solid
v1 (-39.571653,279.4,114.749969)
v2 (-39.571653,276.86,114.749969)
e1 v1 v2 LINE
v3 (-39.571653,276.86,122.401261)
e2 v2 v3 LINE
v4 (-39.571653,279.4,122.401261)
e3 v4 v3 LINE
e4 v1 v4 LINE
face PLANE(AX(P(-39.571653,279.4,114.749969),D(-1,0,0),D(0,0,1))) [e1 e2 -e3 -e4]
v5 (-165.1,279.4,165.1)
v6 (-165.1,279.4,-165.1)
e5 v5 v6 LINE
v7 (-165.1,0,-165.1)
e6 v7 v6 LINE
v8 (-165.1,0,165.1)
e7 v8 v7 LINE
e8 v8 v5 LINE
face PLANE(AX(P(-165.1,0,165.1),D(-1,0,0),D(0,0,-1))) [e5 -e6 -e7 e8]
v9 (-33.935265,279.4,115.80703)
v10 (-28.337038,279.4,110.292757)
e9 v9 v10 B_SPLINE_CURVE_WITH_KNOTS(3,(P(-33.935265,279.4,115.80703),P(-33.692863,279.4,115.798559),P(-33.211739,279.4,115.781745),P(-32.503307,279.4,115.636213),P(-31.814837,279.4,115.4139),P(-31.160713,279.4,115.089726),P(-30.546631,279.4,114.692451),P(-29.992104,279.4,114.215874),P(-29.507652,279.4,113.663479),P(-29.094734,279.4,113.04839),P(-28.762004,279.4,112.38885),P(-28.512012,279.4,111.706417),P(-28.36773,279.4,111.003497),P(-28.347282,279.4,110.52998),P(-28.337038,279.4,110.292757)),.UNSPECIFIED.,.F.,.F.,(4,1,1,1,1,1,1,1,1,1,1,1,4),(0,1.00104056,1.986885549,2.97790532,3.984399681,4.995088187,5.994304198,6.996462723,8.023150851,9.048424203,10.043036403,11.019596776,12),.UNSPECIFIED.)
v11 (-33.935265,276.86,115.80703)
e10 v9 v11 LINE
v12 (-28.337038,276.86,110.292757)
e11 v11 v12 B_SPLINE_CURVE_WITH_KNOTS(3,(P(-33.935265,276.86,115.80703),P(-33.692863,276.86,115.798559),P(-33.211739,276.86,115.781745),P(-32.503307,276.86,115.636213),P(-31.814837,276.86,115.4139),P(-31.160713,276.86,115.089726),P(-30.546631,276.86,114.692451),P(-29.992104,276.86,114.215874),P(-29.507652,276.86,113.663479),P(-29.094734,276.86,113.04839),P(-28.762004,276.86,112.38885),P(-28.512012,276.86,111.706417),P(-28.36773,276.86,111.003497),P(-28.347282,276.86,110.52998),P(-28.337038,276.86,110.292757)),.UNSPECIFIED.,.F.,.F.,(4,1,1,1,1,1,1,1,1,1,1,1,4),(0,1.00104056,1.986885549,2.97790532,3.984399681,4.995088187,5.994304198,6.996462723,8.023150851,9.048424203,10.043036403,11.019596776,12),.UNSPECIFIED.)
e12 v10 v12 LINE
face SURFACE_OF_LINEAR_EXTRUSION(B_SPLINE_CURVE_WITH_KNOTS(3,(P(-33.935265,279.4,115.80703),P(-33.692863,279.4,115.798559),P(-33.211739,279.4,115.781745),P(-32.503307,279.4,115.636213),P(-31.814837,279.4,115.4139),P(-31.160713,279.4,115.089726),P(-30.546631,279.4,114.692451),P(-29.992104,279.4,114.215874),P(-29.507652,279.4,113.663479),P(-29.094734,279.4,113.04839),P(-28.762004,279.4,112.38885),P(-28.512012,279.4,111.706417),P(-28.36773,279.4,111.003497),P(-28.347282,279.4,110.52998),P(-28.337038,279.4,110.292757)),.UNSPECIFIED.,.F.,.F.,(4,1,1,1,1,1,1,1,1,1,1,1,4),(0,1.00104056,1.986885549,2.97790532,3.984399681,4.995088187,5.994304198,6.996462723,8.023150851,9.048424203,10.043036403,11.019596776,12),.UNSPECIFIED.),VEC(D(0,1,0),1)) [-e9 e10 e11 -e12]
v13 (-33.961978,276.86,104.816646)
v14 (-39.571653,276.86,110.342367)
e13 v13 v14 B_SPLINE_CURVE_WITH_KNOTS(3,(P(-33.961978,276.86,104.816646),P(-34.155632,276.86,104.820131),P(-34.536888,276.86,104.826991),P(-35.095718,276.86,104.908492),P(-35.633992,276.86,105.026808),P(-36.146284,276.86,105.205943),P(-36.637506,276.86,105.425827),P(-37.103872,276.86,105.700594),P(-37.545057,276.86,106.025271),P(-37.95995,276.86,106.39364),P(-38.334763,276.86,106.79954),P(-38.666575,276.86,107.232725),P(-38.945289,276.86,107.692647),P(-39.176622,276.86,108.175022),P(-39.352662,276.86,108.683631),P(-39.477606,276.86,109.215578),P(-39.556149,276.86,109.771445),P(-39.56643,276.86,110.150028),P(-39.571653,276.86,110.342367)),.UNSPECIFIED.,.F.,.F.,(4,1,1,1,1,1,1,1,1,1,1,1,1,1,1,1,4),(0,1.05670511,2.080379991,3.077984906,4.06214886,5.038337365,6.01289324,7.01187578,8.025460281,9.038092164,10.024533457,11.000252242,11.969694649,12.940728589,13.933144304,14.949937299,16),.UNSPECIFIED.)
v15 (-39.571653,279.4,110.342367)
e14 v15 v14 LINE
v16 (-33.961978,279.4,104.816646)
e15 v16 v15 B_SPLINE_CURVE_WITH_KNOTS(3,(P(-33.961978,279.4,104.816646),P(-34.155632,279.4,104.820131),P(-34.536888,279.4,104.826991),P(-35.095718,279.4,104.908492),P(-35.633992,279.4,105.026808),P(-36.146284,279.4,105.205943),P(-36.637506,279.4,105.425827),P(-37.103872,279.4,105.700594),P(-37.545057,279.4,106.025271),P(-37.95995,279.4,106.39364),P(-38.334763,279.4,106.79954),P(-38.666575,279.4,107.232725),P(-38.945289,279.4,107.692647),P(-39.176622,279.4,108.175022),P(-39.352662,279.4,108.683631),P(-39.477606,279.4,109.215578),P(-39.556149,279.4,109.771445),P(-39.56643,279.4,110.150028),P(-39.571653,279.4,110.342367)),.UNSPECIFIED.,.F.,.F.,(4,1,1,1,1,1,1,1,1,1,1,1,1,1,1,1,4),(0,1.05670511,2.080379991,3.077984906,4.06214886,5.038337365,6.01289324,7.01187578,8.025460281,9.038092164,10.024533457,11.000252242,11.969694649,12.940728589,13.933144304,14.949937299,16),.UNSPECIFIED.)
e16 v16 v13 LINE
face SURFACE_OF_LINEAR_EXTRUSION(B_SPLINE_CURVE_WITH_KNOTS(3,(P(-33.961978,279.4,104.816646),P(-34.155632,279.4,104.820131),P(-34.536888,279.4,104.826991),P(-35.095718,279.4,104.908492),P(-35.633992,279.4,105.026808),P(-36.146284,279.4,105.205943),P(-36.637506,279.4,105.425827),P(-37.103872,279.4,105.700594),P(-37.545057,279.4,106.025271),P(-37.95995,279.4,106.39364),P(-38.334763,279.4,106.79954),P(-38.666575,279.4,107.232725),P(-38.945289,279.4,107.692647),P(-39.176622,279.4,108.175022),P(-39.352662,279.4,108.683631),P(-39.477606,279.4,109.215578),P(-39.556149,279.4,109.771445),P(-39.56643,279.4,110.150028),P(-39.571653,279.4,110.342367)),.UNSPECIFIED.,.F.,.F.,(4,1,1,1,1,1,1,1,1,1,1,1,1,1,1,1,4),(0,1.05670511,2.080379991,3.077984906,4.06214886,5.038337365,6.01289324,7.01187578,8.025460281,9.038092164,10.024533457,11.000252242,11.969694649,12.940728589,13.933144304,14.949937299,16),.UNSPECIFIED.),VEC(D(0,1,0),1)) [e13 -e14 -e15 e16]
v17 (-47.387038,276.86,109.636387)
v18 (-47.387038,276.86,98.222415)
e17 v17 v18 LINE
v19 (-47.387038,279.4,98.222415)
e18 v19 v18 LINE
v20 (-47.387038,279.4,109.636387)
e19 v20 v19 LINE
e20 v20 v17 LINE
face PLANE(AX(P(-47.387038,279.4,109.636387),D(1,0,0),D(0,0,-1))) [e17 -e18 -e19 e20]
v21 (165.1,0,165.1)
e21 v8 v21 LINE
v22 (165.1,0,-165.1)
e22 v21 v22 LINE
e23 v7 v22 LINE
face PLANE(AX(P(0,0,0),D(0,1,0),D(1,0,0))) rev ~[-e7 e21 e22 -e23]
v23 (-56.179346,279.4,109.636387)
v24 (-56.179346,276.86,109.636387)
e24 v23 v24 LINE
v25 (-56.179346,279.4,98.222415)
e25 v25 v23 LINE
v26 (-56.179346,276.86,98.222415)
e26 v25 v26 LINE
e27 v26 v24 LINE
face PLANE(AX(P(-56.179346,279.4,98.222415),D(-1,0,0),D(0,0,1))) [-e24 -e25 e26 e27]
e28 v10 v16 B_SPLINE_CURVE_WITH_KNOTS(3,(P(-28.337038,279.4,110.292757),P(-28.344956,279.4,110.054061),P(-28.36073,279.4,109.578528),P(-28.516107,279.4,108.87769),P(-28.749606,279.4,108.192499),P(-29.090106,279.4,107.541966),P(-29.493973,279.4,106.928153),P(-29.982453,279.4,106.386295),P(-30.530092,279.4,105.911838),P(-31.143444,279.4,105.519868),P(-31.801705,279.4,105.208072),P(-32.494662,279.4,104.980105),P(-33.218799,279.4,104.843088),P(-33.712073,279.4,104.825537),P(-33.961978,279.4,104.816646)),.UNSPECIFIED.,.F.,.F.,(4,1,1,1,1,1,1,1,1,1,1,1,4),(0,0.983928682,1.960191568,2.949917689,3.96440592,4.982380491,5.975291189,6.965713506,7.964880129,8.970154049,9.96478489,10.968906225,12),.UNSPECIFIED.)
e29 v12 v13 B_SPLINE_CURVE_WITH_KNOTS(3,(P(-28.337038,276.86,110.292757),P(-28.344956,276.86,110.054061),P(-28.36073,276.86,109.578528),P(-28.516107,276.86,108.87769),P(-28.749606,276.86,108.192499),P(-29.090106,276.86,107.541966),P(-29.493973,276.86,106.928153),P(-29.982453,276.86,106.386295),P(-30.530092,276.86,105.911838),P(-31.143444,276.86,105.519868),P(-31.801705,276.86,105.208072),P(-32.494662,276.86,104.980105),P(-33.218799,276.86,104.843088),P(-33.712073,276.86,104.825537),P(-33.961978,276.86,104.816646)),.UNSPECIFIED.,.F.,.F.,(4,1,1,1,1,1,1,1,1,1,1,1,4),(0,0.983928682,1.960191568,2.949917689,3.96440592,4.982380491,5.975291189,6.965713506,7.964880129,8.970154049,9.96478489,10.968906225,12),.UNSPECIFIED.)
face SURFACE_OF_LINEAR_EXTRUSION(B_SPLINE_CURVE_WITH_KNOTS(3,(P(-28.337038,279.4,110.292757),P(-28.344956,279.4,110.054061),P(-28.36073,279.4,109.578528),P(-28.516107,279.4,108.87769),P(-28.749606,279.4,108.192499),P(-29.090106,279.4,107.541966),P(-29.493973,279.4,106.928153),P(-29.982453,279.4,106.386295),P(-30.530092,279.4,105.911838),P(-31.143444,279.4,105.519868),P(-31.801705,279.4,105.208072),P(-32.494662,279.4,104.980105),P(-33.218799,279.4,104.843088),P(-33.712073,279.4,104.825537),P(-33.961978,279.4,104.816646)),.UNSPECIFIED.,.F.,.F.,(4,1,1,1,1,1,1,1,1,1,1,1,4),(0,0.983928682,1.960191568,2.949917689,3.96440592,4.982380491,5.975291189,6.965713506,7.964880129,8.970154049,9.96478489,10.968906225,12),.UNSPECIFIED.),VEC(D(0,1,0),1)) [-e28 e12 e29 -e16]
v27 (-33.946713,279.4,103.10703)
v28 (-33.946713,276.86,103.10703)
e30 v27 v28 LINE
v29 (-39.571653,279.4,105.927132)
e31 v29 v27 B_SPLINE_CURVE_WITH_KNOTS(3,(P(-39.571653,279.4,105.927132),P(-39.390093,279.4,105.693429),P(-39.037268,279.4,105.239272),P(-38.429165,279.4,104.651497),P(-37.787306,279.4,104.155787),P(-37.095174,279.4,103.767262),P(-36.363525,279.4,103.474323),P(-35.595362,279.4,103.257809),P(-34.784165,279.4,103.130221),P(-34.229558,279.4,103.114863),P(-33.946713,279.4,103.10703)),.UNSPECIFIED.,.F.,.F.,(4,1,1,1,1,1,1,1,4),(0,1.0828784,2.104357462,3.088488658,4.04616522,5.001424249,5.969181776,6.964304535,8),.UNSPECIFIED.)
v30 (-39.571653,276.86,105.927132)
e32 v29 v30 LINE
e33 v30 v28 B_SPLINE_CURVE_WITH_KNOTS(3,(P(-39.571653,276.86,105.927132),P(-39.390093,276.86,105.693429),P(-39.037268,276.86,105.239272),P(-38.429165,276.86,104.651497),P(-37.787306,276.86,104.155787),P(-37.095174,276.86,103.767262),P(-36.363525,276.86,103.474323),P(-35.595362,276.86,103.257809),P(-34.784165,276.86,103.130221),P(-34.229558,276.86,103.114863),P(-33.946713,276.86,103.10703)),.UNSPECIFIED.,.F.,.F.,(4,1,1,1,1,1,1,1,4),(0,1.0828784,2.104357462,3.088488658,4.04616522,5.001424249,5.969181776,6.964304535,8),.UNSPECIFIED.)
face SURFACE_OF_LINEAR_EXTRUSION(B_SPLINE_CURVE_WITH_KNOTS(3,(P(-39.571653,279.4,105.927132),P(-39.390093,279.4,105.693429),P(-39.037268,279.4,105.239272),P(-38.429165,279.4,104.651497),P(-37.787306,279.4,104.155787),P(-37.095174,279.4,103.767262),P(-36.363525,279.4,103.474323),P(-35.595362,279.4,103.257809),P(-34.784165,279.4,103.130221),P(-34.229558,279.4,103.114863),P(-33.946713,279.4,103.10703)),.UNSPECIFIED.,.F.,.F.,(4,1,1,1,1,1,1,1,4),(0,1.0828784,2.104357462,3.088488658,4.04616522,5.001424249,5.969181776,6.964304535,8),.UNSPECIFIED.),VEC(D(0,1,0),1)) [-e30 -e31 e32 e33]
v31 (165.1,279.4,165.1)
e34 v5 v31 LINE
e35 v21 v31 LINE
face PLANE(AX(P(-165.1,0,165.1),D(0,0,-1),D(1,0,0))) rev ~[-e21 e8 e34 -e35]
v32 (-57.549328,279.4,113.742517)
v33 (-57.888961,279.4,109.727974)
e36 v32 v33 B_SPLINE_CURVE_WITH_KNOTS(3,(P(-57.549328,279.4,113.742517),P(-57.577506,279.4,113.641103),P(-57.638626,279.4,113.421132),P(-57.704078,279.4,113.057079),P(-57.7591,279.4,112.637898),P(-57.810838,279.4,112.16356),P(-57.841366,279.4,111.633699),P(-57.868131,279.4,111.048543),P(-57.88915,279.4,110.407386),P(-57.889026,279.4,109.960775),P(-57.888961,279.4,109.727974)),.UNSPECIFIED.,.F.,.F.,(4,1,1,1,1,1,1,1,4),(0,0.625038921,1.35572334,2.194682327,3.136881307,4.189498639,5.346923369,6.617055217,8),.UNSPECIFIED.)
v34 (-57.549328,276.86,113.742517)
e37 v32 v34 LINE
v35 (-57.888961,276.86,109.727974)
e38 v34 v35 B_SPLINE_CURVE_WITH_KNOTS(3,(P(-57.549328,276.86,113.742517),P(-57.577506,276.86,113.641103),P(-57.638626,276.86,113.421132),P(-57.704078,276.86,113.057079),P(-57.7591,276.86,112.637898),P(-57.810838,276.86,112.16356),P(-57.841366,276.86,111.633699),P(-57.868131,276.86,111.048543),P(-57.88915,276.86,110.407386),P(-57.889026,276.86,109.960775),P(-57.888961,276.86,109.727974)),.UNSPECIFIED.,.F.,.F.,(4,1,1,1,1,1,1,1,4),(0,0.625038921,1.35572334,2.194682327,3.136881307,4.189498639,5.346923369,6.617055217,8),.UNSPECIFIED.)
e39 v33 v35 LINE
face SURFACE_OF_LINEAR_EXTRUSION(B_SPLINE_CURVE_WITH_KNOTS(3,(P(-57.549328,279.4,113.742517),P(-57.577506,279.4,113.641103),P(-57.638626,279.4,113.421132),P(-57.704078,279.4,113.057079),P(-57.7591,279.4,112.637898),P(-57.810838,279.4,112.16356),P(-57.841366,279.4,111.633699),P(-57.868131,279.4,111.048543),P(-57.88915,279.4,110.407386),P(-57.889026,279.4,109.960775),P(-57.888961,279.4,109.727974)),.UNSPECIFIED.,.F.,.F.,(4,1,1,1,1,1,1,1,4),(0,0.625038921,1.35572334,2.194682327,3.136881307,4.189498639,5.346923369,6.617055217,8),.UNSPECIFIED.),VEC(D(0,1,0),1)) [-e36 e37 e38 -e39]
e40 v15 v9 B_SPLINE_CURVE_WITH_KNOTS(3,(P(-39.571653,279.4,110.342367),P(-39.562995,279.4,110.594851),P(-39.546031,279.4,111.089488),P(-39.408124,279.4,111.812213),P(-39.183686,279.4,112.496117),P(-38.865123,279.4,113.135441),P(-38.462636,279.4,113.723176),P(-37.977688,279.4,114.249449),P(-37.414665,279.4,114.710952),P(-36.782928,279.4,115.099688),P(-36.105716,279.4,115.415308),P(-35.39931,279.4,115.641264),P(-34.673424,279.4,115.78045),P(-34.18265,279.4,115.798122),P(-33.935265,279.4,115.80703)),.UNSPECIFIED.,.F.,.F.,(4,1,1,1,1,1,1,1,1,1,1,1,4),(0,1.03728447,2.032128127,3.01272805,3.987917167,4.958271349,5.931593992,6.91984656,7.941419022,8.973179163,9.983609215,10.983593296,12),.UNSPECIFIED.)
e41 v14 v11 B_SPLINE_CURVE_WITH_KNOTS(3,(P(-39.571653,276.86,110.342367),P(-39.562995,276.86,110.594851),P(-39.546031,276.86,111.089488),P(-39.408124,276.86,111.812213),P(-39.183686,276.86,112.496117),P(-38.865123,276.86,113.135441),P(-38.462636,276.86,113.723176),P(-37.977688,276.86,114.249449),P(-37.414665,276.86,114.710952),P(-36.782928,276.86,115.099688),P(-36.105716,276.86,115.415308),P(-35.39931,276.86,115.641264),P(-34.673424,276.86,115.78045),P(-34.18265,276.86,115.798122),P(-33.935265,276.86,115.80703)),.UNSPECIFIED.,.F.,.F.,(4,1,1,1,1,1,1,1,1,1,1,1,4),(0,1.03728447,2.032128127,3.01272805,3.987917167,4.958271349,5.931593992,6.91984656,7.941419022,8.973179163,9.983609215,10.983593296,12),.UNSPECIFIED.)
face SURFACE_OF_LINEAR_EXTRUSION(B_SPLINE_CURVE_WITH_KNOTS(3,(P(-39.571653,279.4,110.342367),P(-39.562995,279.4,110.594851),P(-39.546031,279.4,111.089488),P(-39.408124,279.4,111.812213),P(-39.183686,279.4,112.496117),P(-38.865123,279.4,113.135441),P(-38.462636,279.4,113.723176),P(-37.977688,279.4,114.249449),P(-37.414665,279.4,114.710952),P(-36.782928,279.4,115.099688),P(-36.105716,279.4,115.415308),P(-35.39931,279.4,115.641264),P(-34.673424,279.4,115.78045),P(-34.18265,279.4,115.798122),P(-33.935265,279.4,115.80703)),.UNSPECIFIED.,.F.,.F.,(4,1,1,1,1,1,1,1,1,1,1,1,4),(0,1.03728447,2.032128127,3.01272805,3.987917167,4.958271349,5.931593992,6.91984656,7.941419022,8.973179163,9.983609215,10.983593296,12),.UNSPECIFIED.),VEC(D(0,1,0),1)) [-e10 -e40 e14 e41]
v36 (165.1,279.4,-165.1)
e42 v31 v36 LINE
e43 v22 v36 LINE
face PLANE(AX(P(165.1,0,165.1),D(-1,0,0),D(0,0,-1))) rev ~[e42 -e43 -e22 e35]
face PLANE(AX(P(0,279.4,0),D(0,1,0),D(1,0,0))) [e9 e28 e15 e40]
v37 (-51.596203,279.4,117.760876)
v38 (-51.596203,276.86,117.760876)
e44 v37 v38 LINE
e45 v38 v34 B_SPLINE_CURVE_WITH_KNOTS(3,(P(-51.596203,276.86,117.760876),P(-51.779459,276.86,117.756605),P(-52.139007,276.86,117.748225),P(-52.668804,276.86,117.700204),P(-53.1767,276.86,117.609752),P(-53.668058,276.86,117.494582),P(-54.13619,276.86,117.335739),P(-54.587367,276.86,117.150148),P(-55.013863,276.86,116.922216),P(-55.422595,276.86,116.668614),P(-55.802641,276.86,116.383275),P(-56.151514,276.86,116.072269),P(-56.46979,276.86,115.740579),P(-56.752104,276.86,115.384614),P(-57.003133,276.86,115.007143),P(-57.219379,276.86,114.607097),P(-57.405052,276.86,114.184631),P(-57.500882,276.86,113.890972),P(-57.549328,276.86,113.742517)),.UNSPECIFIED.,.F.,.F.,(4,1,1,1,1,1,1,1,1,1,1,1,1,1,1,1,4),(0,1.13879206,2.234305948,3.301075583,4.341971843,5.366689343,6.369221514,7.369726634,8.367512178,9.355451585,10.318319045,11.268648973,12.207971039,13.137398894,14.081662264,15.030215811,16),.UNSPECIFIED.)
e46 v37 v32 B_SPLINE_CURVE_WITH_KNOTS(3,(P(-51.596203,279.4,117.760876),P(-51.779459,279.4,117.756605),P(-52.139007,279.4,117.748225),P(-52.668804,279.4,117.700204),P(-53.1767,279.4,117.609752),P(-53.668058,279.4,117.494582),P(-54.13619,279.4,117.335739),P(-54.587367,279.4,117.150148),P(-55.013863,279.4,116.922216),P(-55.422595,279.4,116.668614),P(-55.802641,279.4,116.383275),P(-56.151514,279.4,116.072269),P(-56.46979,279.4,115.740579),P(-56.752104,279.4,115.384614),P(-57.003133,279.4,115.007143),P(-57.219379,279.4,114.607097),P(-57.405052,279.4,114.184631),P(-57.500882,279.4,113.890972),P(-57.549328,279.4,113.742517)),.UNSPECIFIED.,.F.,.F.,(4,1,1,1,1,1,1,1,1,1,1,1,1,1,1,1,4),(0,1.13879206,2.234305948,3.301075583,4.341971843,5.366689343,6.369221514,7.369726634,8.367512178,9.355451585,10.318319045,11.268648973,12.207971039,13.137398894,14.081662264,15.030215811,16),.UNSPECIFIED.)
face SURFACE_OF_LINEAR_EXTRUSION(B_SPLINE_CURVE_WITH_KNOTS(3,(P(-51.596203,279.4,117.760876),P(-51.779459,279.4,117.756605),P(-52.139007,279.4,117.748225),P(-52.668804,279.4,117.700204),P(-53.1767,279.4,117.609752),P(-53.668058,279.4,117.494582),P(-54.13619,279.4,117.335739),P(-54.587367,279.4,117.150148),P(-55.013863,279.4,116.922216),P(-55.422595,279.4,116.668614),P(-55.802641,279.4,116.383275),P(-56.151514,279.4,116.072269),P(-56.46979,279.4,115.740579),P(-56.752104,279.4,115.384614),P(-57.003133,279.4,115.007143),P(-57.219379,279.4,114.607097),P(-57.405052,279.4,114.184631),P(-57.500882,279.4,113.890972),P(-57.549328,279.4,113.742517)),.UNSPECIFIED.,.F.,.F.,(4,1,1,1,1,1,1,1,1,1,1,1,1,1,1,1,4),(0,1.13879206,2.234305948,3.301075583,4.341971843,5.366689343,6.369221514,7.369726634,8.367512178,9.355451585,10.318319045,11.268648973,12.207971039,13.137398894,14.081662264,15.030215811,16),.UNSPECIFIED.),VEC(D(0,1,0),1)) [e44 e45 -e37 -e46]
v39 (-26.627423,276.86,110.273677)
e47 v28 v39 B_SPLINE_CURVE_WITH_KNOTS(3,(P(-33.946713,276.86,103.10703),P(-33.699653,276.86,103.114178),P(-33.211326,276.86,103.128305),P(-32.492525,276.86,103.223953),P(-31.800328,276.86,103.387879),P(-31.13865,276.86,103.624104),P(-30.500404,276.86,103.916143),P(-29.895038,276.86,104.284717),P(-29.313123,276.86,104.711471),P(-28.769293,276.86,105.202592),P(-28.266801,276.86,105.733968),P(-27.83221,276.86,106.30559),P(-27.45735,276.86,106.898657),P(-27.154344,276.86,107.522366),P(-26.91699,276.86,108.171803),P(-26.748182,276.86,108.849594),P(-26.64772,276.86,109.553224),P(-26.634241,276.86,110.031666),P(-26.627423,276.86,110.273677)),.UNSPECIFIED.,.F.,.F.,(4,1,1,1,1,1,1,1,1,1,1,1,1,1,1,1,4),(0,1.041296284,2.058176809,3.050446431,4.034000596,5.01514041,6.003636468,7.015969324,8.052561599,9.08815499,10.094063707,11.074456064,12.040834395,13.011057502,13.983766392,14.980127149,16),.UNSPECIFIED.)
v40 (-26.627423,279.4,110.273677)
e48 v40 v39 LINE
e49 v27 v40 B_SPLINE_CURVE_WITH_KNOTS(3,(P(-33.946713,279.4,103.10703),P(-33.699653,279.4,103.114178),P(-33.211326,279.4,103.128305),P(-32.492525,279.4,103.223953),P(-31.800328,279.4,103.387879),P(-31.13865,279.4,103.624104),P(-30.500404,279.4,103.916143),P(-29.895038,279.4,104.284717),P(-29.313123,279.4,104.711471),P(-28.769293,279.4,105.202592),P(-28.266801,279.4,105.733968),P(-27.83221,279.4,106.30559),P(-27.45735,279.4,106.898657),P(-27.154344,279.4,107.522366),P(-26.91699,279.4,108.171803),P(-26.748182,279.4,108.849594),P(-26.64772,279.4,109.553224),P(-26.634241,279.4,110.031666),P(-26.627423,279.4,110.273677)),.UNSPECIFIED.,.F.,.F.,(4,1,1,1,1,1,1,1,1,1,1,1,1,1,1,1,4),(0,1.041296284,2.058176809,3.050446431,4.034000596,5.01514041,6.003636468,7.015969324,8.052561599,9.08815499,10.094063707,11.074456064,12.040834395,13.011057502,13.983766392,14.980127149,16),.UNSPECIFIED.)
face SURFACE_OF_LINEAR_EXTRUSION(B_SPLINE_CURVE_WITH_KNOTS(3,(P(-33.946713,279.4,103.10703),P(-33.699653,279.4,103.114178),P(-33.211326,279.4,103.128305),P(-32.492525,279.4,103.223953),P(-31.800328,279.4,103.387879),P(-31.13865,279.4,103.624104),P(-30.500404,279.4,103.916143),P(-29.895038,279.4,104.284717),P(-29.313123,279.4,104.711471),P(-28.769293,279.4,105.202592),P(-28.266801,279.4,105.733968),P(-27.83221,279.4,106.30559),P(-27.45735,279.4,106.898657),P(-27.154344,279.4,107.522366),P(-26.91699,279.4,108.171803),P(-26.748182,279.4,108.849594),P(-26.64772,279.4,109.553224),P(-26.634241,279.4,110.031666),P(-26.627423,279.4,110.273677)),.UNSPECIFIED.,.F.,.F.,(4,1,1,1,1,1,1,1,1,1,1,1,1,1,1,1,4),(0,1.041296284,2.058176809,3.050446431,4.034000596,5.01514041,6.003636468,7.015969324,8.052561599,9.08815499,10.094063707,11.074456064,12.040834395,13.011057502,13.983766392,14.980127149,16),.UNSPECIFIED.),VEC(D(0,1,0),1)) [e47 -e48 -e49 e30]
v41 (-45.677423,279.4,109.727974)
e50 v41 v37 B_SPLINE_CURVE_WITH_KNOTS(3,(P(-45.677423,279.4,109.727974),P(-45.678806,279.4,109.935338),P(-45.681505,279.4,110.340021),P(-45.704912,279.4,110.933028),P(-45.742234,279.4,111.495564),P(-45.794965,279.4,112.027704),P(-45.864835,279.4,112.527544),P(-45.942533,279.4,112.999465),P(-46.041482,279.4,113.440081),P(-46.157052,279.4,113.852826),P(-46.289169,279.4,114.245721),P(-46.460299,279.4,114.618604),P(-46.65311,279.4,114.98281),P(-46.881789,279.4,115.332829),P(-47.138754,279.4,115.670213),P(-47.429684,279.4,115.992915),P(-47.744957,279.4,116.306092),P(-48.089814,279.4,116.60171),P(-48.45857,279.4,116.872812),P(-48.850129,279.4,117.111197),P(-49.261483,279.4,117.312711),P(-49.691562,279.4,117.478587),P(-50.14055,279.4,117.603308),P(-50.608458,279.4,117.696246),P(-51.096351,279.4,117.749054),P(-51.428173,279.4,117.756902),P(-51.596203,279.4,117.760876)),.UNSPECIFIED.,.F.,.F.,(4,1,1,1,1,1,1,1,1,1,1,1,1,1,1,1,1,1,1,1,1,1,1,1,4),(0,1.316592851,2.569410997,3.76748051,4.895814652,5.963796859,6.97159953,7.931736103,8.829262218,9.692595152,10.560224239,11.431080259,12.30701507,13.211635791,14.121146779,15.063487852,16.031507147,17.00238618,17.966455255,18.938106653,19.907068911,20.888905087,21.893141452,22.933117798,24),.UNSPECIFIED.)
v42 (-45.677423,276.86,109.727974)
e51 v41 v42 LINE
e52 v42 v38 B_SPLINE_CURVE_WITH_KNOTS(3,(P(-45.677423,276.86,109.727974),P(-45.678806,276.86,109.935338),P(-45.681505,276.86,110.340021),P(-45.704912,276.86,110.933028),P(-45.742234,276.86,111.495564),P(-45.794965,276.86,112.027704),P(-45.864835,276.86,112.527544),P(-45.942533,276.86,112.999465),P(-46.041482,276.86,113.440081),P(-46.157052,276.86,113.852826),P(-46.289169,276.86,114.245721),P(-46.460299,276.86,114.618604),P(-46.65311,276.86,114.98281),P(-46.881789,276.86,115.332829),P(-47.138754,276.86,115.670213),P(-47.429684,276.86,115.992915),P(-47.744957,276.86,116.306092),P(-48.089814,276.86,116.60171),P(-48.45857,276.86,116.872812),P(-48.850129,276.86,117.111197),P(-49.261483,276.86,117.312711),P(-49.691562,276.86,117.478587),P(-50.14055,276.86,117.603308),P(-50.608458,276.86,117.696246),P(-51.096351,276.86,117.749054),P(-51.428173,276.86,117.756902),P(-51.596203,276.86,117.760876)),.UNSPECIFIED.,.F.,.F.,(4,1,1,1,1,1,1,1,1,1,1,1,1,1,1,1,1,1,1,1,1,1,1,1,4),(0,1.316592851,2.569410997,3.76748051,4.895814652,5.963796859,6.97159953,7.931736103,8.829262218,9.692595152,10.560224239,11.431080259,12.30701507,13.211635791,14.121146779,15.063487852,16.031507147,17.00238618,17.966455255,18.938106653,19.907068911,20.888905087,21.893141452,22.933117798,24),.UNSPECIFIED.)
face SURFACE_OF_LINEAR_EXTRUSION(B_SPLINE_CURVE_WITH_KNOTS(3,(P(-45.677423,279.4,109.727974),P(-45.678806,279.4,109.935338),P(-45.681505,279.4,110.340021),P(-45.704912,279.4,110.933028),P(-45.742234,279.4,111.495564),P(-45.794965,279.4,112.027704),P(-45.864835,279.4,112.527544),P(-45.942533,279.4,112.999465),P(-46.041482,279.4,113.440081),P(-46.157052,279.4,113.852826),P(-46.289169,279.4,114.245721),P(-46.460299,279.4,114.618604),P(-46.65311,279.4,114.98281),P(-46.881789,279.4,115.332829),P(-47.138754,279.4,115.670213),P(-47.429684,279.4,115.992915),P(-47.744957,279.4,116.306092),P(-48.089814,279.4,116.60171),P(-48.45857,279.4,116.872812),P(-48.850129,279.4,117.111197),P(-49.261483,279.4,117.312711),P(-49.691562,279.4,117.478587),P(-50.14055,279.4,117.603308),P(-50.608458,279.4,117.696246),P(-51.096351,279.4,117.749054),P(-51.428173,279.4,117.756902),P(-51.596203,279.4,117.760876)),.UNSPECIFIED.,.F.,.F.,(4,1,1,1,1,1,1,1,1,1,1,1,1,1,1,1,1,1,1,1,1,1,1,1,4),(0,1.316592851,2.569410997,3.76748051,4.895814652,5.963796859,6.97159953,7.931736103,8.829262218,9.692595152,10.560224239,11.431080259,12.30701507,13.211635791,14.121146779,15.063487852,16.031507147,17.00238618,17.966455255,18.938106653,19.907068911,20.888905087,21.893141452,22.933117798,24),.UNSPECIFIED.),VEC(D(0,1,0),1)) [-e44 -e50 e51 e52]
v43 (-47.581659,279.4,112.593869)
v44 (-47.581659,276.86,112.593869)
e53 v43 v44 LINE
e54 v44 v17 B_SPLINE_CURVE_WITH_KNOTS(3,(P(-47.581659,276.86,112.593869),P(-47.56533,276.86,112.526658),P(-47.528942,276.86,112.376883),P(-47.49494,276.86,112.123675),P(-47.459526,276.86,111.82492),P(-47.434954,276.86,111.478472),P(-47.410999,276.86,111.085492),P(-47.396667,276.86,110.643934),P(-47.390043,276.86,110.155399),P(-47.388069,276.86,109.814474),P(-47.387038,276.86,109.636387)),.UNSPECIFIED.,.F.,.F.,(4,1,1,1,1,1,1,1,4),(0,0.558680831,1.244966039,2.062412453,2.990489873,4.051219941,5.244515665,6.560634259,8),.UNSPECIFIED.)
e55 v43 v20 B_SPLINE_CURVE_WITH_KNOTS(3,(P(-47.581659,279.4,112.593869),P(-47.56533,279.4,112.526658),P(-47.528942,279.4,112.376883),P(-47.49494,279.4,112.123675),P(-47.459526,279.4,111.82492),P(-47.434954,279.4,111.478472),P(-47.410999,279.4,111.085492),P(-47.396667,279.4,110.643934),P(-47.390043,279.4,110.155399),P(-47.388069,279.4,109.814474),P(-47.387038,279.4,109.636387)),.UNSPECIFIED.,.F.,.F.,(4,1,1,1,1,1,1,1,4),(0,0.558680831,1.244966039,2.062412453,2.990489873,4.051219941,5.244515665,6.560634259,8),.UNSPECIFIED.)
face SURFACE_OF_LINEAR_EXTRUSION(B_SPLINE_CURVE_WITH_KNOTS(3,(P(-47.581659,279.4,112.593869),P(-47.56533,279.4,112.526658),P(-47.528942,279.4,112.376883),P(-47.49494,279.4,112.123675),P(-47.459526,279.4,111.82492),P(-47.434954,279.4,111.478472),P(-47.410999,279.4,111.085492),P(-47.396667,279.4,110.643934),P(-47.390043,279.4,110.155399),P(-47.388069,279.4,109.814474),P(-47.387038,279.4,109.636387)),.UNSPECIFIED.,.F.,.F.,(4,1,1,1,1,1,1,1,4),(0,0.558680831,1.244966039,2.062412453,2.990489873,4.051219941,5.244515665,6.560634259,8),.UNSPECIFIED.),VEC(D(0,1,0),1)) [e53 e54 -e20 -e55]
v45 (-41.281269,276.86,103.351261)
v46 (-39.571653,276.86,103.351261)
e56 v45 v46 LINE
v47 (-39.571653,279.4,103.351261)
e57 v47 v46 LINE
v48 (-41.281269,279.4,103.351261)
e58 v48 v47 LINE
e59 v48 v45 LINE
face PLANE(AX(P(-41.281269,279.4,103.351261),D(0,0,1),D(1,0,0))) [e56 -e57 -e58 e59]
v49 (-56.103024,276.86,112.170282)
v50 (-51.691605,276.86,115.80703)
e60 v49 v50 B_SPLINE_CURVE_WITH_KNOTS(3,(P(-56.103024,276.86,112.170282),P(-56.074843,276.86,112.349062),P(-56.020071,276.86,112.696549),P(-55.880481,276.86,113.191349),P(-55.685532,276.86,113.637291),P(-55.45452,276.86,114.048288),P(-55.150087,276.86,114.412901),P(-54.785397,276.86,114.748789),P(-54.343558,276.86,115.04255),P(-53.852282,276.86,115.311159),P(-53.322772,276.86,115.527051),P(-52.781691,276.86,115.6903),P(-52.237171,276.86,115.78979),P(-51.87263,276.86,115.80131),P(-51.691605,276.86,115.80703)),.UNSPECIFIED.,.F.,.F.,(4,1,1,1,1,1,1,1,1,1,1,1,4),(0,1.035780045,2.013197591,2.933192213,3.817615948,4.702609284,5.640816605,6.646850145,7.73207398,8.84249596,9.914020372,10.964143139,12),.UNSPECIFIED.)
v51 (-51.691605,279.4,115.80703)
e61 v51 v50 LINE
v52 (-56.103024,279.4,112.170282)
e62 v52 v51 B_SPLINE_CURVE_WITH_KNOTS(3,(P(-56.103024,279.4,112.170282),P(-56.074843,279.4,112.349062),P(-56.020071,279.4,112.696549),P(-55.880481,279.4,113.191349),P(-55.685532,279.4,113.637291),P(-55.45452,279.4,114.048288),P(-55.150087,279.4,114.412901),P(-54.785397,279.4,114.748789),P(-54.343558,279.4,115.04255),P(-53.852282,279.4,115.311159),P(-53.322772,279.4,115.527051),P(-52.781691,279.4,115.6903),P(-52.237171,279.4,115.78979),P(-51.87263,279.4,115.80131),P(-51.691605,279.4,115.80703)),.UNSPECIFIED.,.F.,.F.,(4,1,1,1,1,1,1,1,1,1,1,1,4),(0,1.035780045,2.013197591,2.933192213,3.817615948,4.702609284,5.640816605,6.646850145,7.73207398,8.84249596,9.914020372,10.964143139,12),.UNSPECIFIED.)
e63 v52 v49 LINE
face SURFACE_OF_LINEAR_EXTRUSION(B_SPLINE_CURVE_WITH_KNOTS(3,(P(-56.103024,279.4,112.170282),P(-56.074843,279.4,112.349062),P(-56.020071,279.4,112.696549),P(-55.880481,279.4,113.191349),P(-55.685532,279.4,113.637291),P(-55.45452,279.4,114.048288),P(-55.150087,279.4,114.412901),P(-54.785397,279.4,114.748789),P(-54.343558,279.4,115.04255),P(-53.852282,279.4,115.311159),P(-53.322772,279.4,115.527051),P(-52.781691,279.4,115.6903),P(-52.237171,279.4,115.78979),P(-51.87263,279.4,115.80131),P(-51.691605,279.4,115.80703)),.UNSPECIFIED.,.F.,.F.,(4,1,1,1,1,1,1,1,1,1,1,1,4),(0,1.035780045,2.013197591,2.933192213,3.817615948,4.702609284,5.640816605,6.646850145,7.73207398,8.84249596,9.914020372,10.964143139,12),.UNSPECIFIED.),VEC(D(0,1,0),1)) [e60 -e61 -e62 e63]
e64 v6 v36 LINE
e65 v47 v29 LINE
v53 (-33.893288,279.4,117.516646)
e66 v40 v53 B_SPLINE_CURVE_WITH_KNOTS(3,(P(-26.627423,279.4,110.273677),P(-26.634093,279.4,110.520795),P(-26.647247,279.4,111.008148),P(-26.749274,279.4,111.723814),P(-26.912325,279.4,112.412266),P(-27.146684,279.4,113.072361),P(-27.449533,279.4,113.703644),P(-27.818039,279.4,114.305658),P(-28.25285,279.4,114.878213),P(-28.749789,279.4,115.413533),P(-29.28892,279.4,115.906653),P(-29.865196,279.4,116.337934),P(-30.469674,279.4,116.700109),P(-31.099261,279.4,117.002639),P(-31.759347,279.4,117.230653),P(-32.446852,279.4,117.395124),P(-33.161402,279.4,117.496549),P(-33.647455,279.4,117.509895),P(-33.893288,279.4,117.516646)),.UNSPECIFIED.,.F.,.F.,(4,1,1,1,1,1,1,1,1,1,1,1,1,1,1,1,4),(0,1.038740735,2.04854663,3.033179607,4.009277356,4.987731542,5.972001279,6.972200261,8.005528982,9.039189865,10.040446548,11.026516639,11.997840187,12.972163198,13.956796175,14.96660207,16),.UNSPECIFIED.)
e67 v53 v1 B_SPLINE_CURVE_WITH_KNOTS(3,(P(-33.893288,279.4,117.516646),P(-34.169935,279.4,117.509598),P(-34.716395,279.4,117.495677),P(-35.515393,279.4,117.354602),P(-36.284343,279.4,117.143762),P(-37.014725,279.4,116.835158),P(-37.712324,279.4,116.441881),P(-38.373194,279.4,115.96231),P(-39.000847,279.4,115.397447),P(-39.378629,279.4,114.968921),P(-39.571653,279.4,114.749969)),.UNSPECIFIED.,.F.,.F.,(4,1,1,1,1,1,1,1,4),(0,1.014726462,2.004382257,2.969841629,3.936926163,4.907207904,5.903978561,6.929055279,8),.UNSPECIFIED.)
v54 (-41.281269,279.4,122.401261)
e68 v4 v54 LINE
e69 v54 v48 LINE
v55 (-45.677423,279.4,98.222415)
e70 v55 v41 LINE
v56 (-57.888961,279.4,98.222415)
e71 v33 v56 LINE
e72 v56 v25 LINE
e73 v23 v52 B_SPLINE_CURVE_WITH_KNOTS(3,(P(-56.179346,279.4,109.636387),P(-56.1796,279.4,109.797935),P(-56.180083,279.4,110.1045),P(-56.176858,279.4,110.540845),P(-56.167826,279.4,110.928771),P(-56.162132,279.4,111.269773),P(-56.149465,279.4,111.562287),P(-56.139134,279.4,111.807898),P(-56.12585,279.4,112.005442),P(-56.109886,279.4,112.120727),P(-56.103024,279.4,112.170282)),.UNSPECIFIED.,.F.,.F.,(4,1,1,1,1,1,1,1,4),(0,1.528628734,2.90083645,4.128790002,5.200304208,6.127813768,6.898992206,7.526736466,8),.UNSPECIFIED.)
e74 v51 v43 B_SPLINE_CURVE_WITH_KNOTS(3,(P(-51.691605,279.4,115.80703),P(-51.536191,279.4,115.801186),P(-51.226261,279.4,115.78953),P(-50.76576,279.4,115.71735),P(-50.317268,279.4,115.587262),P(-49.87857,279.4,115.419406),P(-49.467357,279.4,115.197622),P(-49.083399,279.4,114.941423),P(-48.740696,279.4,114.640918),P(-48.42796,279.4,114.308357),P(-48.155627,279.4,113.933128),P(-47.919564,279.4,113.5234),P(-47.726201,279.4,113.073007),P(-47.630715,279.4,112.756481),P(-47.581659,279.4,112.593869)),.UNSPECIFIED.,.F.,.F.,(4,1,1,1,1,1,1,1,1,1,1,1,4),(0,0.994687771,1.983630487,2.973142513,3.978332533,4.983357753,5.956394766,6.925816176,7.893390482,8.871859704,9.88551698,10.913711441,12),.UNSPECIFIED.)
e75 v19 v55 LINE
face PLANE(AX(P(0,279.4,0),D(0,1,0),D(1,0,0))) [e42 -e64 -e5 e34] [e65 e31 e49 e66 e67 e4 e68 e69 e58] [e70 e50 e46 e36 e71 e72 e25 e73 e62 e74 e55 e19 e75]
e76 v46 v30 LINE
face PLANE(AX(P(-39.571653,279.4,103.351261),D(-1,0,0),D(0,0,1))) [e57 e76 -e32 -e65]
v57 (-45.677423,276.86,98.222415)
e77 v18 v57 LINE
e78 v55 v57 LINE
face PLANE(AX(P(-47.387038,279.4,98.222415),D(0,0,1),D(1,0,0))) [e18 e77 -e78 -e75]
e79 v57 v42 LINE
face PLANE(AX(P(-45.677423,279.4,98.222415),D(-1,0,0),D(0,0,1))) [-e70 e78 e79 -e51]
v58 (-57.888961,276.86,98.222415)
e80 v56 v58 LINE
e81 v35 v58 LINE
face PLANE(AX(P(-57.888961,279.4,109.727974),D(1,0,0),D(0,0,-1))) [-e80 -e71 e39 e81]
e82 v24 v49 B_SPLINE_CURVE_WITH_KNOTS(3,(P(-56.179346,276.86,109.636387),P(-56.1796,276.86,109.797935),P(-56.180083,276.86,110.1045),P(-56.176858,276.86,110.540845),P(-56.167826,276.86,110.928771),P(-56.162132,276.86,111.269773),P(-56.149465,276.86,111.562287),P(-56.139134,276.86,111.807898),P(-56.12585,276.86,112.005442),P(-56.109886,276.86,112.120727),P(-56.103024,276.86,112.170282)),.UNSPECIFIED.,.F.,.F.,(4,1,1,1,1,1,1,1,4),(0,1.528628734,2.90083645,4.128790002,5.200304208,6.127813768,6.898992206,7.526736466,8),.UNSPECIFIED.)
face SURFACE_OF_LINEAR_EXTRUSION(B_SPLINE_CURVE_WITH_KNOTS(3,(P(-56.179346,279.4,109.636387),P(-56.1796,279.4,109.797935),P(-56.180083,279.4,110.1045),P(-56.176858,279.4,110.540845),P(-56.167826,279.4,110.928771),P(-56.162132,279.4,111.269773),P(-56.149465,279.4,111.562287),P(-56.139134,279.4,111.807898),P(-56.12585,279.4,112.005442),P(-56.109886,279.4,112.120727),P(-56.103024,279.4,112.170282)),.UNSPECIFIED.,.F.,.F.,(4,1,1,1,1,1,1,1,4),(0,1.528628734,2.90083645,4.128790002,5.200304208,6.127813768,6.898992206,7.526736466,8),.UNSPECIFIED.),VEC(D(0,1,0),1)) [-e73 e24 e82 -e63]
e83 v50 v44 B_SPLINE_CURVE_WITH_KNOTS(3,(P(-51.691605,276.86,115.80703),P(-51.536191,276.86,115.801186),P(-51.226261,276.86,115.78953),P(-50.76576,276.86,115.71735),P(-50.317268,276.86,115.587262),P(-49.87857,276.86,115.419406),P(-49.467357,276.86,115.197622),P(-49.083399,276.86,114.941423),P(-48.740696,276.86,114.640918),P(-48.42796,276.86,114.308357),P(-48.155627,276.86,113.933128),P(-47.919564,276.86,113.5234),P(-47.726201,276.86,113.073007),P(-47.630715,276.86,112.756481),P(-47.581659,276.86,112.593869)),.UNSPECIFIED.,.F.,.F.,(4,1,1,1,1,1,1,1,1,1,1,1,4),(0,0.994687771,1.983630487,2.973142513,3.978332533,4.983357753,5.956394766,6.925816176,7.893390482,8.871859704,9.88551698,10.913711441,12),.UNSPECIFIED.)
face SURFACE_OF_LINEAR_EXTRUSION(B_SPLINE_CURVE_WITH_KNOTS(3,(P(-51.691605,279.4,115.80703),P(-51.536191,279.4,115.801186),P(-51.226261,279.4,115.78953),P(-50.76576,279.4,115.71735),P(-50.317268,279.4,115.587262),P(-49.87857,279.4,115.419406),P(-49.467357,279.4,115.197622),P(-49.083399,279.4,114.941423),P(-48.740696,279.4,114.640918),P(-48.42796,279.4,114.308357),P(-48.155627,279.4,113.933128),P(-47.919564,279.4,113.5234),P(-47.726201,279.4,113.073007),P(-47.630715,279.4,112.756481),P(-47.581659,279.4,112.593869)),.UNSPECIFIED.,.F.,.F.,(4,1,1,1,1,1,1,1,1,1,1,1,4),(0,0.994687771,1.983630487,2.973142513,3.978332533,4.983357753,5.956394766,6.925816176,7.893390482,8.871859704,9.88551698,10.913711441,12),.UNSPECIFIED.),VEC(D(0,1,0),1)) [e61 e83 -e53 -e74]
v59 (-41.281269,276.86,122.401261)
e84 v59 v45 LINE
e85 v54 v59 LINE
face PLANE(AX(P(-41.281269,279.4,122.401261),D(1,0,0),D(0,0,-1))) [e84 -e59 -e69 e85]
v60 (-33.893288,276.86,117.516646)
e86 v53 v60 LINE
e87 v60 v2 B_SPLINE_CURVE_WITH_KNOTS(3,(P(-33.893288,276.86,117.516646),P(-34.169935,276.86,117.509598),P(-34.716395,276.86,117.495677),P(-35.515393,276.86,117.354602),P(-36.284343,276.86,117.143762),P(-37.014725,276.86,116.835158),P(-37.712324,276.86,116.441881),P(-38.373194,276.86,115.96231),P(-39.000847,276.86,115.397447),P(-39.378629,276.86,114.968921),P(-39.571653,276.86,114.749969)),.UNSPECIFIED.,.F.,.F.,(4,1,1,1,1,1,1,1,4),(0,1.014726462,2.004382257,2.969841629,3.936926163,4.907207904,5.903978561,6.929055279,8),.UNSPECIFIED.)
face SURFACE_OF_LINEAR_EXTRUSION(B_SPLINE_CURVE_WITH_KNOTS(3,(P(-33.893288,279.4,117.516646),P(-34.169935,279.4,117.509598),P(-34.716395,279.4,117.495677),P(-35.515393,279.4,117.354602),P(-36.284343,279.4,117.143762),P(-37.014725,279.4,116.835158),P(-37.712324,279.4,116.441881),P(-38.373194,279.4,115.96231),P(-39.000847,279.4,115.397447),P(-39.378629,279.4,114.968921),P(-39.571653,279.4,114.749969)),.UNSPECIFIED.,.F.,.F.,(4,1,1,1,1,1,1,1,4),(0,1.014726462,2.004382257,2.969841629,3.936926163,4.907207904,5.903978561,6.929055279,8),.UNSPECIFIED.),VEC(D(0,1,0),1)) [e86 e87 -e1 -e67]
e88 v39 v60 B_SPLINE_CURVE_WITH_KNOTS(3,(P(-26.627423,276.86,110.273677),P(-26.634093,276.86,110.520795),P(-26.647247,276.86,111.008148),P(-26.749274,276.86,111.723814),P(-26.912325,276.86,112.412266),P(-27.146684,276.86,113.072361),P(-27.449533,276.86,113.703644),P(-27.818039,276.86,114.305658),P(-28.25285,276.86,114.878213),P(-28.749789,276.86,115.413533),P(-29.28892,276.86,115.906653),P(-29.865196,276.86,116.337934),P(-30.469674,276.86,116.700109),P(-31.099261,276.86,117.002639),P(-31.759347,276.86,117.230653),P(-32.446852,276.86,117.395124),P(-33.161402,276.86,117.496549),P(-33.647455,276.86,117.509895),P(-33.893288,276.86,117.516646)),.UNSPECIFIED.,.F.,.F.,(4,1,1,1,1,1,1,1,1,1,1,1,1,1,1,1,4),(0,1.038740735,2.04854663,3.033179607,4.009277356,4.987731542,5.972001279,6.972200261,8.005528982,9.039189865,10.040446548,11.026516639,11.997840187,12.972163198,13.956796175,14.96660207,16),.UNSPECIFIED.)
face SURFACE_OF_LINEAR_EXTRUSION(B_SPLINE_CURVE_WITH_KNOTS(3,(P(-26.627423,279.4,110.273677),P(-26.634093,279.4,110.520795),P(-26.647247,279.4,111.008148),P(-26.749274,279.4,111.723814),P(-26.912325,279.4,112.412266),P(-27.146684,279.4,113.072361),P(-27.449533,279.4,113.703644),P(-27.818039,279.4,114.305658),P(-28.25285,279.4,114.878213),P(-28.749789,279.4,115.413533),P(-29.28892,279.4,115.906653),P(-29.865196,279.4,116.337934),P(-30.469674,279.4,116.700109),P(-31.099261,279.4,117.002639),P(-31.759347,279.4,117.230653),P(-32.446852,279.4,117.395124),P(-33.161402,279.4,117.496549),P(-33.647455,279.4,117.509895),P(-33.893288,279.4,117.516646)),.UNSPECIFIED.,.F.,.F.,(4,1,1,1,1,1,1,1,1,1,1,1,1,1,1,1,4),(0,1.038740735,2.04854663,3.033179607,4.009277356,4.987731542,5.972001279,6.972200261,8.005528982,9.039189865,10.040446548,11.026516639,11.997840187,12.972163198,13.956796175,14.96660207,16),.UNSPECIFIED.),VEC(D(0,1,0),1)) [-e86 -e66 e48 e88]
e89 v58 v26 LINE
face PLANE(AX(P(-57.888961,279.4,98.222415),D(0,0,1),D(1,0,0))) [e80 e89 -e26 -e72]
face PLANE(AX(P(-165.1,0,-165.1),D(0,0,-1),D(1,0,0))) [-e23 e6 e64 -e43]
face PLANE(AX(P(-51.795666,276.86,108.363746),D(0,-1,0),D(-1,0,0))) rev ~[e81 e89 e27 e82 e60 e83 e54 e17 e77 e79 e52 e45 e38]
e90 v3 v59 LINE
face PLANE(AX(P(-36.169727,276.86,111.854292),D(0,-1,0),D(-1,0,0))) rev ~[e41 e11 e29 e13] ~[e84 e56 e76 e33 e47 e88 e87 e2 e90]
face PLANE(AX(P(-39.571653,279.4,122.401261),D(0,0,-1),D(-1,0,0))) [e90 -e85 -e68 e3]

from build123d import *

# Parameters (mm, degrees)
SKETCH1_W           = 330.2
SKETCH1_H           = 330.2
BOSS_EXTRUDE1_DEPTH = 279.4
CUT_EXTRUDE1_DEPTH  = 2.54


with BuildPart() as part:
    # Sketch1 → Boss-Extrude1 (new body)
    with BuildSketch(Plane(origin=(0, 0, 0), x_dir=(1, 0, 0), z_dir=(0, 1, 0))):
        Rectangle(SKETCH1_W, SKETCH1_H)
    extrude(amount=BOSS_EXTRUDE1_DEPTH)

    # Sketch2 → Cut-Extrude1 (cut)
    # profile 1 of 2: a face of its own
    with BuildSketch(Plane(origin=(0, 279.4, 0), x_dir=(1, 0, 0), z_dir=(0, 1, 0))):
        with BuildLine():
            Line((-57.888961079, -98.222414931), (-56.179345694, -98.222414931))
            Line((-56.179345694, -98.222414931), (-56.179345694, -109.636387287))
            add(Edge.make_bspline(
                [(-56.179345694, -109.636387287), (-56.179600115, -109.797935292), (-56.180082922, -110.10450047), (-56.176857954, -110.540845077), (-56.167826249, -110.92877089), (-56.162132152, -111.269773224), (-56.149464808, -111.562287321), (-56.13913401, -111.807897941), (-56.125850408, -112.0054421), (-56.109885869, -112.120726855), (-56.103023579, -112.170281518)],
                knots=[0, 0, 0, 0, 1.528628734, 2.90083645, 4.128790002, 5.200304208, 6.127813768, 6.898992206, 7.526736466, 8, 8, 8, 8], degree=3))
            add(Edge.make_bspline(
                [(-56.103023579, -112.170281518), (-56.07484341, -112.349061758), (-56.020070925, -112.696548613), (-55.880481354, -113.191349404), (-55.685531813, -113.637290627), (-55.454520395, -114.048287797), (-55.150087182, -114.412901314), (-54.785396511, -114.748789024), (-54.343557514, -115.042549846), (-53.852281931, -115.311159265), (-53.322772282, -115.527050642), (-52.78169096, -115.690300239), (-52.237171317, -115.789789679), (-51.872629618, -115.801309699), (-51.69160531, -115.807030316)],
                knots=[0, 0, 0, 0, 1.035780045, 2.013197591, 2.933192213, 3.817615948, 4.702609284, 5.640816605, 6.646850145, 7.73207398, 8.84249596, 9.914020372, 10.964143139, 12, 12, 12, 12], degree=3))
            add(Edge.make_bspline(
                [(-51.69160531, -115.807030316), (-51.53619138, -115.801185502), (-51.22626115, -115.789529633), (-50.765760435, -115.717349558), (-50.317268415, -115.587262194), (-49.878570428, -115.419405794), (-49.467357213, -115.197622477), (-49.083399336, -114.941422622), (-48.740695637, -114.640917711), (-48.427959963, -114.308357265), (-48.155626955, -113.933127782), (-47.919564027, -113.523399631), (-47.726201467, -113.073006757), (-47.630714567, -112.756480544), (-47.581659396, -112.593869258)],
                knots=[0, 0, 0, 0, 0.994687771, 1.983630487, 2.973142513, 3.978332533, 4.983357753, 5.956394766, 6.925816176, 7.893390482, 8.871859704, 9.88551698, 10.913711441, 12, 12, 12, 12], degree=3))
            add(Edge.make_bspline(
                [(-47.581659396, -112.593869258), (-47.565330143, -112.526657732), (-47.528941986, -112.376883366), (-47.494940212, -112.123674627), (-47.459526124, -111.824919661), (-47.434953964, -111.478471937), (-47.41099875, -111.085492357), (-47.396667311, -110.643933727), (-47.390043175, -110.155399412), (-47.388069158, -109.814474289), (-47.387038002, -109.636387287)],
                knots=[0, 0, 0, 0, 0.558680831, 1.244966039, 2.062412453, 2.990489873, 4.051219941, 5.244515665, 6.560634259, 8, 8, 8, 8], degree=3))
            Line((-47.387038002, -109.636387287), (-47.387038002, -98.222414931))
            Line((-47.387038002, -98.222414931), (-45.677422617, -98.222414931))
            Line((-45.677422617, -98.222414931), (-45.677422617, -109.727973826))
            add(Edge.make_bspline(
                [(-45.677422617, -109.727973826), (-45.678805758, -109.93533786), (-45.681505042, -110.34002138), (-45.704912466, -110.933028062), (-45.742234136, -111.495563575), (-45.794965015, -112.027703534), (-45.864834989, -112.527543744), (-45.942532975, -112.999465411), (-46.041481577, -113.440080985), (-46.157051946, -113.852826001), (-46.2891694, -114.245721438), (-46.460299079, -114.618604041), (-46.653109572, -114.982809559), (-46.881789325, -115.332829409), (-47.138754137, -115.670213362), (-47.429683999, -115.992915328), (-47.744956932, -116.306092137), (-48.089813963, -116.601710397), (-48.458570394, -116.87281191), (-48.850129306, -117.111196921), (-49.261482867, -117.312711182), (-49.691561796, -117.478587285), (-50.140549629, -117.603308174), (-50.608457687, -117.696245808), (-51.096351011, -117.749054028), (-51.428172925, -117.756902247), (-51.596202666, -117.76087647)],
                knots=[0, 0, 0, 0, 1.316592851, 2.569410997, 3.76748051, 4.895814652, 5.963796859, 6.97159953, 7.931736103, 8.829262218, 9.692595152, 10.560224239, 11.431080259, 12.30701507, 13.211635791, 14.121146779, 15.063487852, 16.031507147, 17.00238618, 17.966455255, 18.938106653, 19.907068911, 20.888905087, 21.893141452, 22.933117798, 24, 24, 24, 24], degree=3))
            add(Edge.make_bspline(
                [(-51.596202666, -117.76087647), (-51.779458781, -117.756605105), (-52.139006624, -117.748224701), (-52.668803819, -117.700203733), (-53.176699659, -117.609752186), (-53.668058361, -117.494581636), (-54.136190324, -117.335738723), (-54.5873675, -117.1501475), (-55.013862607, -116.922215555), (-55.422594664, -116.668614373), (-55.802640837, -116.383274557), (-56.151513846, -116.072268753), (-56.469789656, -115.740578984), (-56.75210356, -115.384614136), (-57.003132946, -115.007142703), (-57.219378822, -114.60709684), (-57.405052336, -114.184631434), (-57.500882365, -113.890971871), (-57.549327666, -113.742517095)],
                knots=[0, 0, 0, 0, 1.13879206, 2.234305948, 3.301075583, 4.341971843, 5.366689343, 6.369221514, 7.369726634, 8.367512178, 9.355451585, 10.318319045, 11.268648973, 12.207971039, 13.137398894, 14.081662264, 15.030215811, 16, 16, 16, 16], degree=3))
            add(Edge.make_bspline(
                [(-57.549327666, -113.742517095), (-57.577506198, -113.641102654), (-57.638626062, -113.421132473), (-57.704078039, -113.057078871), (-57.759100326, -112.637897676), (-57.810837722, -112.163560196), (-57.841366479, -111.633698779), (-57.868131395, -111.048543109), (-57.889149635, -110.407385632), (-57.889025688, -109.960774625), (-57.888961079, -109.727973826)],
                knots=[0, 0, 0, 0, 0.625038921, 1.35572334, 2.194682327, 3.136881307, 4.189498639, 5.346923369, 6.617055217, 8, 8, 8, 8], degree=3))
            Line((-57.888961079, -109.727973826), (-57.888961079, -98.222414931))
        make_face()
    # profile 2 of 2: a face of its own
    with BuildSketch(Plane(origin=(0, 279.4, 0), x_dir=(1, 0, 0), z_dir=(0, 1, 0))):
        with BuildLine():
            Line((-41.281268771, -103.351261085), (-39.571653387, -103.351261085))
            Line((-39.571653387, -103.351261085), (-39.571653387, -105.927132479))
            add(Edge.make_bspline(
                [(-39.571653387, -105.927132479), (-39.390093366, -105.693428528), (-39.037267801, -105.239271668), (-38.429165104, -104.651496825), (-37.78730633, -104.155786958), (-37.095174042, -103.767262029), (-36.363525101, -103.474323038), (-35.595362059, -103.257809175), (-34.784165353, -103.130220578), (-34.229557517, -103.114862679), (-33.946713483, -103.107030316)],
                knots=[0, 0, 0, 0, 1.0828784, 2.104357462, 3.088488658, 4.04616522, 5.001424249, 5.969181776, 6.964304535, 8, 8, 8, 8], degree=3))
            add(Edge.make_bspline(
                [(-33.946713483, -103.107030316), (-33.699653471, -103.114177761), (-33.211326379, -103.128305062), (-32.49252509, -103.223952687), (-31.800327646, -103.387878985), (-31.138650095, -103.624103967), (-30.500403983, -103.916143025), (-29.895037982, -104.284717175), (-29.313122772, -104.711470871), (-28.769293229, -105.202591578), (-28.266801214, -105.733968285), (-27.832209857, -106.305589683), (-27.457349921, -106.898657475), (-27.15434445, -107.522365862), (-26.916990445, -108.171803385), (-26.748181985, -108.849593899), (-26.647719668, -109.553224375), (-26.634240696, -110.031666325), (-26.627422617, -110.273676951)],
                knots=[0, 0, 0, 0, 1.041296284, 2.058176809, 3.050446431, 4.034000596, 5.01514041, 6.003636468, 7.015969324, 8.052561599, 9.08815499, 10.094063707, 11.074456064, 12.040834395, 13.011057502, 13.983766392, 14.980127149, 16, 16, 16, 16], degree=3))
            add(Edge.make_bspline(
                [(-26.627422617, -110.273676951), (-26.63409276, -110.52079523), (-26.647247245, -111.008148139), (-26.749273634, -111.723813625), (-26.91232462, -112.412266331), (-27.14668416, -113.072361151), (-27.449532832, -113.703643596), (-27.818039082, -114.305658409), (-28.25284971, -114.878212708), (-28.749788705, -115.413533493), (-29.288919686, -115.90665261), (-29.865195736, -116.337934103), (-30.469673602, -116.700109303), (-31.099260683, -117.002639411), (-31.759346659, -117.230652585), (-32.446851784, -117.395123757), (-33.161401753, -117.496548655), (-33.647455166, -117.509895316), (-33.893288002, -117.516645701)],
                knots=[0, 0, 0, 0, 1.038740735, 2.04854663, 3.033179607, 4.009277356, 4.987731542, 5.972001279, 6.972200261, 8.005528982, 9.039189865, 10.040446548, 11.026516639, 11.997840187, 12.972163198, 13.956796175, 14.96660207, 16, 16, 16, 16], degree=3))
            add(Edge.make_bspline(
                [(-33.893288002, -117.516645701), (-34.169935215, -117.509598247), (-34.716394567, -117.49567746), (-35.515393316, -117.354601814), (-36.284343039, -117.143762207), (-37.014724528, -116.835157685), (-37.712323622, -116.441881234), (-38.373194279, -115.96230997), (-39.000846891, -115.397446856), (-39.378628841, -114.968920828), (-39.571653387, -114.749969018)],
                knots=[0, 0, 0, 0, 1.014726462, 2.004382257, 2.969841629, 3.936926163, 4.907207904, 5.903978561, 6.929055279, 8, 8, 8, 8], degree=3))
            Line((-39.571653387, -114.749969018), (-39.571653387, -122.401261085))
            Line((-39.571653387, -122.401261085), (-41.281268771, -122.401261085))
            Line((-41.281268771, -122.401261085), (-41.281268771, -103.351261085))
        make_face()
        with BuildLine():
            add(Edge.make_bspline(
                [(-33.961977906, -104.816645701), (-34.155632382, -104.820130534), (-34.536888129, -104.826991274), (-35.09571835, -104.908492338), (-35.633992035, -105.026807758), (-36.146284371, -105.20594253), (-36.637505583, -105.425827499), (-37.103872252, -105.700593874), (-37.545057012, -106.02527122), (-37.959949849, -106.39364022), (-38.334762918, -106.799539594), (-38.666575426, -107.23272467), (-38.945289472, -107.692646858), (-39.176621896, -108.175022046), (-39.352661764, -108.683631383), (-39.477606467, -109.215578209), (-39.556148816, -109.771444759), (-39.566430032, -110.150028165), (-39.571653387, -110.342366854)],
                knots=[0, 0, 0, 0, 1.05670511, 2.080379991, 3.077984906, 4.06214886, 5.038337365, 6.01289324, 7.01187578, 8.025460281, 9.038092164, 10.024533457, 11.000252242, 11.969694649, 12.940728589, 13.933144304, 14.949937299, 16, 16, 16, 16], degree=3))
            add(Edge.make_bspline(
                [(-39.571653387, -110.342366854), (-39.562994584, -110.594850724), (-39.546031257, -111.089488008), (-39.408123583, -111.812213015), (-39.183685931, -112.496117025), (-38.865122504, -113.13544067), (-38.462636421, -113.723175815), (-37.977687884, -114.249448973), (-37.414664856, -114.710952047), (-36.782927713, -115.099687728), (-36.10571583, -115.415308489), (-35.399309652, -115.641264406), (-34.673423657, -115.780450392), (-34.182650374, -115.798122364), (-33.935265166, -115.807030316)],
                knots=[0, 0, 0, 0, 1.03728447, 2.032128127, 3.01272805, 3.987917167, 4.958271349, 5.931593992, 6.91984656, 7.941419022, 8.973179163, 9.983609215, 10.983593296, 12, 12, 12, 12], degree=3))
            add(Edge.make_bspline(
                [(-33.935265166, -115.807030316), (-33.692863343, -115.798559179), (-33.211739303, -115.781745495), (-32.503307241, -115.636213359), (-31.814836766, -115.413899726), (-31.160713256, -115.089725569), (-30.54663113, -114.69245111), (-29.992104388, -114.215874358), (-29.507652473, -113.663479096), (-29.094733627, -113.048389959), (-28.762003685, -112.388849656), (-28.512011951, -111.70641667), (-28.367729573, -111.003496581), (-28.34728191, -110.529980458), (-28.337038002, -110.292757479)],
                knots=[0, 0, 0, 0, 1.00104056, 1.986885549, 2.97790532, 3.984399681, 4.995088187, 5.994304198, 6.996462723, 8.023150851, 9.048424203, 10.043036403, 11.019596776, 12, 12, 12, 12], degree=3))
            add(Edge.make_bspline(
                [(-28.337038002, -110.292757479), (-28.344955911, -110.054061039), (-28.360730039, -109.578527843), (-28.516107487, -108.877689757), (-28.749605937, -108.192499487), (-29.09010592, -107.541966209), (-29.493972829, -106.928152988), (-29.982452913, -106.386295446), (-30.530092496, -105.911837927), (-31.143443517, -105.51986834), (-31.801704976, -105.208071574), (-32.494661875, -104.980104911), (-33.218799197, -104.843087789), (-33.712072574, -104.825537262), (-33.961977906, -104.816645701)],
                knots=[0, 0, 0, 0, 0.983928682, 1.960191568, 2.949917689, 3.96440592, 4.982380491, 5.975291189, 6.965713506, 7.964880129, 8.970154049, 9.96478489, 10.968906225, 12, 12, 12, 12], degree=3))
        make_face(mode=Mode.SUBTRACT)
    extrude(amount=-CUT_EXTRUDE1_DEPTH, mode=Mode.SUBTRACT)


solid = part.part
